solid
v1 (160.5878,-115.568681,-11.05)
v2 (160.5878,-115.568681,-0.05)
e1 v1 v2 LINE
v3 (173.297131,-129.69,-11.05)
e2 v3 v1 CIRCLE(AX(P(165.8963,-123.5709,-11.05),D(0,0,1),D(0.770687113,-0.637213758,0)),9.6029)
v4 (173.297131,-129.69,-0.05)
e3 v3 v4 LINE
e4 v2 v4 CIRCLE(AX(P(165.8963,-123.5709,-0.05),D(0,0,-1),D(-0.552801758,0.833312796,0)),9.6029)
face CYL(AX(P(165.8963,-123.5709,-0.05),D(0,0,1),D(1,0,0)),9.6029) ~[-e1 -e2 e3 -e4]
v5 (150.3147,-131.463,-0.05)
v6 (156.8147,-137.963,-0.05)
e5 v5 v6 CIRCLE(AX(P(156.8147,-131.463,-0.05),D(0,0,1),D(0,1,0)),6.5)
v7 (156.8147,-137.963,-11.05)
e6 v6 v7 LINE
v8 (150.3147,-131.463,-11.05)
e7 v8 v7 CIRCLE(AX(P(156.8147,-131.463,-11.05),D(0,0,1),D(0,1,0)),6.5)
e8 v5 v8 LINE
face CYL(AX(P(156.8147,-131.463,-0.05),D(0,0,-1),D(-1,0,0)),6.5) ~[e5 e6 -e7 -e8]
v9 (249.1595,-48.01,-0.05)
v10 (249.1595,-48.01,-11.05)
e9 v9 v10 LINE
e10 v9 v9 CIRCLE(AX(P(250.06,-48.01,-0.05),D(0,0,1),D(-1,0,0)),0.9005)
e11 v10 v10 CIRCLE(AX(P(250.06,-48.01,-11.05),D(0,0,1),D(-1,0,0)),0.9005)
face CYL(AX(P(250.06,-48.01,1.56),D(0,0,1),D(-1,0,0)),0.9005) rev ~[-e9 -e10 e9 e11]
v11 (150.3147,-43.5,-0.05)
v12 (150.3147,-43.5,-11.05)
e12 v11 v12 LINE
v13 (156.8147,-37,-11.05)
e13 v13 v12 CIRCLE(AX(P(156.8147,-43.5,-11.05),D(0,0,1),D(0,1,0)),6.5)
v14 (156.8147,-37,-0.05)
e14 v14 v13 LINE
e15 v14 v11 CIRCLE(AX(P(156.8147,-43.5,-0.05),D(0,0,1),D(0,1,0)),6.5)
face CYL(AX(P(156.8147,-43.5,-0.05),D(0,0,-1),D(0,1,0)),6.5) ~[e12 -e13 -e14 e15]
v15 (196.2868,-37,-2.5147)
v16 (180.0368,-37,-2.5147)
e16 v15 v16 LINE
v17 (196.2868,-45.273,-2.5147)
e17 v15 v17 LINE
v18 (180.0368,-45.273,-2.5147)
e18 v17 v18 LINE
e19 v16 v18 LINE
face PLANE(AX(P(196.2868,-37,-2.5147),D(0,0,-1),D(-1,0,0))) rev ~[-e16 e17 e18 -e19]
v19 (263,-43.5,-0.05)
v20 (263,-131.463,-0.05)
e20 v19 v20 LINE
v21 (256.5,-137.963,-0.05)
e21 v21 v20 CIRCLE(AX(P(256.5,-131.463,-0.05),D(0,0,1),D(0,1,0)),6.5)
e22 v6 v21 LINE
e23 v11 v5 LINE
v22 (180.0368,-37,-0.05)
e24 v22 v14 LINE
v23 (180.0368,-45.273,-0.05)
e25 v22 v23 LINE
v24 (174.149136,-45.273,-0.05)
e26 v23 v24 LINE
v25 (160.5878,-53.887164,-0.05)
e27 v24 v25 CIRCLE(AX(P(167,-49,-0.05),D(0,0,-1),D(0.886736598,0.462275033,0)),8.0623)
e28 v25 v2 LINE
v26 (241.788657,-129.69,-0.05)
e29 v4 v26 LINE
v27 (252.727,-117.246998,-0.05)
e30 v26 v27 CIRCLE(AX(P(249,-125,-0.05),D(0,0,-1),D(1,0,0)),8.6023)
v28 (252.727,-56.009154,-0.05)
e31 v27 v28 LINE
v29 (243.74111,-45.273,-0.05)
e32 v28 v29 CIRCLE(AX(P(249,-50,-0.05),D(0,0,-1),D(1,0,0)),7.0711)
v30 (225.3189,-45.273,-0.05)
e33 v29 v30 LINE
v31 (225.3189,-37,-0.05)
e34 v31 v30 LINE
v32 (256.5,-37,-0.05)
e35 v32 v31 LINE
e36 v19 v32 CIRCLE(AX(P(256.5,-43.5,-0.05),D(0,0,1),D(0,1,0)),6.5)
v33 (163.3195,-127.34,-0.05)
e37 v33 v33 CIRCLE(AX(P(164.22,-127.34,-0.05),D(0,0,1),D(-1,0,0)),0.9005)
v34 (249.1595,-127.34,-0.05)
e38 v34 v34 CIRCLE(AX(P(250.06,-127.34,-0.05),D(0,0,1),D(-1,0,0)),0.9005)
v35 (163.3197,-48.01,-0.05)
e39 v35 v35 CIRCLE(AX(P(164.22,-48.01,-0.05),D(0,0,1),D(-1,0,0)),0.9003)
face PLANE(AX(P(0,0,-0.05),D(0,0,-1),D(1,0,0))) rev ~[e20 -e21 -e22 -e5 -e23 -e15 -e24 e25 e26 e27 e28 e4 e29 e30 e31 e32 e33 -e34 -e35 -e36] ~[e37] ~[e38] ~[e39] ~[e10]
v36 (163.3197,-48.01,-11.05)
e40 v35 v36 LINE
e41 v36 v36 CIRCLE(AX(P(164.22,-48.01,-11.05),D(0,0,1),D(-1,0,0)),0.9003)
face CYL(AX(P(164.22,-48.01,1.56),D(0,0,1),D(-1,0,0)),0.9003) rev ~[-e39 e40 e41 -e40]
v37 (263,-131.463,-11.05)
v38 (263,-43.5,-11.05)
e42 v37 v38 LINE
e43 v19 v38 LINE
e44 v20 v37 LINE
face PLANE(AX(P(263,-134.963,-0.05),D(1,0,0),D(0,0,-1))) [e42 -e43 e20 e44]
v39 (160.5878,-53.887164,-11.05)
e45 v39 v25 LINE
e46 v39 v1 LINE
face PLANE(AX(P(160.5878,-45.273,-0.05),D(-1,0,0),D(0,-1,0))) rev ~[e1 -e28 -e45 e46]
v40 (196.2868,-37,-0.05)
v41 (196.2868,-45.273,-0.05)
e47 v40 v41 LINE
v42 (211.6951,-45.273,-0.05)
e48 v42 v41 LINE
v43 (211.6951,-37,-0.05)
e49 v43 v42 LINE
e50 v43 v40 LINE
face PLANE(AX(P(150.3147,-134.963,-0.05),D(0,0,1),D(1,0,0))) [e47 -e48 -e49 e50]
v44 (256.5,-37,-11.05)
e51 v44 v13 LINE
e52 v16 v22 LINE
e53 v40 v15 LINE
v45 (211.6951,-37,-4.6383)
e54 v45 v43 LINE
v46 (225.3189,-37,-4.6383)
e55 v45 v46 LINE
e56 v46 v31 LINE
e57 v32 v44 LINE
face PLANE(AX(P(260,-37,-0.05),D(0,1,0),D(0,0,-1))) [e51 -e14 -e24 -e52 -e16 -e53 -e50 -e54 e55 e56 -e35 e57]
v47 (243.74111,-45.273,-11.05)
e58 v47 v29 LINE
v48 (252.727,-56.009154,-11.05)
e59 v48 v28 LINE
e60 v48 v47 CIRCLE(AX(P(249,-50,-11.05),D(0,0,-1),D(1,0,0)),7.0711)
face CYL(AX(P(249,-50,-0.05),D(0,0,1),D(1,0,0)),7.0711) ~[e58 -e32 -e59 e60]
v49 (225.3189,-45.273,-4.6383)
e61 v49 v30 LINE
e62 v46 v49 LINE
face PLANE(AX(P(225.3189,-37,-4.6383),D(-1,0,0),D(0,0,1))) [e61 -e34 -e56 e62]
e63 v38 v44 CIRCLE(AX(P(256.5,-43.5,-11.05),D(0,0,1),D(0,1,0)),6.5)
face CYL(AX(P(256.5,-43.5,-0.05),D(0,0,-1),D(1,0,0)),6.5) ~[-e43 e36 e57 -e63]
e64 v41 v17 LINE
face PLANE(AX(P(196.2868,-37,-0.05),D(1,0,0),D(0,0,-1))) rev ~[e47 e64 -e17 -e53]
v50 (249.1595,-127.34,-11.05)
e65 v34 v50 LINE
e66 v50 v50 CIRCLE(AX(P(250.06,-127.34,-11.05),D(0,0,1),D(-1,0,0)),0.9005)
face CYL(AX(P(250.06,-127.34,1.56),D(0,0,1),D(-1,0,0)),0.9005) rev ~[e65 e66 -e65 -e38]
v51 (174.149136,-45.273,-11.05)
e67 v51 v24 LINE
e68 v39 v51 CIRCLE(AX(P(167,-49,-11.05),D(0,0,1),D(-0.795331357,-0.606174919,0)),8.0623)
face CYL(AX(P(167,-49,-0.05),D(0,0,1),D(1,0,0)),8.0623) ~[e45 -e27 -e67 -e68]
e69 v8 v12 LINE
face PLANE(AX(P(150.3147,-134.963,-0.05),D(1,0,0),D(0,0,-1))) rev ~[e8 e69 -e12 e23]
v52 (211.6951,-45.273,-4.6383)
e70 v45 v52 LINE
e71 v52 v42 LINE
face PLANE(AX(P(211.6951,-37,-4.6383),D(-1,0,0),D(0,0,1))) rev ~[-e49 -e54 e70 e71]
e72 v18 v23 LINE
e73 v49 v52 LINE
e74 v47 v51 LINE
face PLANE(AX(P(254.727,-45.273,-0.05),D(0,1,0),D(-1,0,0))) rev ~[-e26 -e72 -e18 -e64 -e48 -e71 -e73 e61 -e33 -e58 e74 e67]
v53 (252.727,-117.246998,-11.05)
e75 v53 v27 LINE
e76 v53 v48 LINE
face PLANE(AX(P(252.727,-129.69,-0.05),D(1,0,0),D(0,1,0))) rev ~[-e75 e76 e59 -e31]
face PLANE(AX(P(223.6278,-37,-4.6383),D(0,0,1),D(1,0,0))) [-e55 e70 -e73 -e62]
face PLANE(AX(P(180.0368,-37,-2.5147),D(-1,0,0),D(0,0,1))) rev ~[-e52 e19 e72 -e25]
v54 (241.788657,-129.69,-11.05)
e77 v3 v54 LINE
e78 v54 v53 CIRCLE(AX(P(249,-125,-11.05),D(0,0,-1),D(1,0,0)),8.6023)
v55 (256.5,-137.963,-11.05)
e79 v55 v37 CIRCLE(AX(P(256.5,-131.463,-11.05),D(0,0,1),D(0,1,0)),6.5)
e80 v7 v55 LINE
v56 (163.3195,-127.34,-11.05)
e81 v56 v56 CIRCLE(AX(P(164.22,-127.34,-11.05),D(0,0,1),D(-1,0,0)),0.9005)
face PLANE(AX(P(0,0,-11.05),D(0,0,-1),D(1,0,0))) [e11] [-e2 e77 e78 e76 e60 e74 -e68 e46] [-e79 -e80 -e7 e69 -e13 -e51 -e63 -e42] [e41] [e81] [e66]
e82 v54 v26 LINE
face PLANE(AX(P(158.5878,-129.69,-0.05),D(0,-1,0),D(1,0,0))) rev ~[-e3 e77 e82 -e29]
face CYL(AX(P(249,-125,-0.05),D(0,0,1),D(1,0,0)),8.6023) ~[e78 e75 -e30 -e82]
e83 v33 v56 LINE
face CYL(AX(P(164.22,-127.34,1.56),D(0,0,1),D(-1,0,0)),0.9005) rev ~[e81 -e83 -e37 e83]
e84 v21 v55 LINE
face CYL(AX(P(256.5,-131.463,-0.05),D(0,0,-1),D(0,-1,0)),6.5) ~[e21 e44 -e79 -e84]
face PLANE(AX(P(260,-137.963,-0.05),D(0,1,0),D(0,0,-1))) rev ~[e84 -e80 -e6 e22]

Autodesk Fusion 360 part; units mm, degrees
sketch "Sketch2" plane through (0, 0, -0.05) normal (0, 0, -1) x (1, 0, 0)
  line L0 (260, 40) -> (153.3147, 40)
  line L1 (153.3147, 40) -> (153.3147, 134.963)
  line L2 (153.3147, 134.963) -> (260, 134.963)
  line L3 (260, 134.963) -> (260, 40)
  line L4 (254.727, 129.69) -> (254.727, 45.273)
  line L5 (254.727, 45.273) -> (158.5878, 45.273)
  line L6 (158.5878, 45.273) -> (158.5878, 129.69)
  line L7 (158.5878, 129.69) -> (254.727, 129.69)
  dimension "d1" = 5.273
extrude "Extrude1" add sketch "Sketch2" along normal blind 11
extrude "Extrude2" add 1 faces at (153.3147, -71.6543, -3.7167) along direction (-1, 0, 0) blind 3
extrude "Extrude3" add 1 faces at (223.4382, -40, -3.7167) along direction (0, 1, 0) blind 3
extrude "Extrude4" add 1 faces at (260, -102.3087, -3.7167) along direction (1, 0, 0) blind 3
extrude "Extrude5" add 1 faces at (225.4382, -134.963, -7.3833) along direction (0, -1, 0) blind 3
sketch "Sketch3" plane through (0, -37, 0) normal (0, 1, 0) x (-1, 0, 0)
  line L0 (-150.3147, -0.05) -> (-263, -0.05)
  line L1 (-263, -0.05) -> (-263, -11.05)
  line L2 (-263, -11.05) -> (-150.3147, -11.05)
  line L3 (-150.3147, -11.05) -> (-150.3147, -0.05)
  line L4 (-180.0368, -0.05) -> (-196.2868, -0.05)
  line L5 (-196.2868, -0.05) -> (-196.2868, -2.5147)
  line L6 (-196.2868, -2.5147) -> (-180.0368, -2.5147)
  line L7 (-180.0368, -2.5147) -> (-180.0368, -0.05)
extrude "Extrude6" cut sketch "Sketch3" against normal blind 23 contours L0 L4 L5 L6 L7
sketch "Sketch4" plane through (0, -37, 0) normal (0, 1, 0) x (-1, 0, 0)
  line L0 (-196.2868, -2.5147) -> (-196.2868, -0.05)
  line L1 (-196.2868, -0.05) -> (-263, -0.05)
  line L2 (-263, -0.05) -> (-263, -11.05)
  line L3 (-263, -11.05) -> (-150.3147, -11.05)
  line L4 (-150.3147, -11.05) -> (-150.3147, -0.05)
  line L5 (-150.3147, -0.05) -> (-180.0368, -0.05)
  line L6 (-180.0368, -0.05) -> (-180.0368, -2.5147)
  line L7 (-180.0368, -2.5147) -> (-196.2868, -2.5147)
  line L8 (-223.6278, -0.05) -> (-213.3861, -0.05)
  line L9 (-213.3861, -0.05) -> (-213.3861, -4.6383)
  line L10 (-213.3861, -4.6383) -> (-223.6278, -4.6383)
  line L11 (-223.6278, -4.6383) -> (-223.6278, -0.05)
extrude "Extrude7" cut sketch "Sketch4" against normal blind 15.5 contours L1 L8 L9 L10 L11
extrude "Extrude8" add 1 faces at (158.5878, -73.412, -3.7167) along direction (1, 0, 0) blind 2
extrude "Extrude9" add 1 faces at (254.727, -101.551, -3.7167) along direction (-1, 0, 0) blind 2
sketch "Sketch5" plane through (0, 0, -0.05) normal (0, 0, -1) x (1, 0, 0)
  circle A0 centre (167, 49) radius 8.0623
extrude "Extrude10" add sketch "Sketch5" along normal blind 11
sketch "Sketch6" plane through (0, 0, -0.05) normal (0, 0, -1) x (1, 0, 0)
  circle A0 centre (166, 126) radius 7.8102
  circle A1 centre (247, 125) radius 9.2195
  circle A2 centre (249, 50) radius 7.0711
extrude "Extrude11" add sketch "Sketch6" along normal blind 11 contours A2
sketch "Sketch7" plane through (0, 0, -0.05) normal (0, 0, -1) x (1, 0, 0)
  circle A0 centre (249, 125) radius 8.6023
extrude "Extrude12" add sketch "Sketch7" along normal blind 11
sketch "Sketch8" plane through (0, 0, -0.05) normal (0, 0, -1) x (1, 0, 0)
  circle A0 centre (165.8963, 123.5709) radius 9.6029
extrude "Extrude13" add sketch "Sketch8" along normal blind 11
fillet "Fillet1" radius 6.5 1 edges at (263, -137.963, -5.55)
fillet "Fillet2" radius 6.5 1 edges at (263, -37, -5.55)
fillet "Fillet3" radius 6.5 1 edges at (150.3147, -37, -5.55)
fillet "Fillet4" radius 6.5 1 edges at (150.3147, -137.963, -5.55)
sketch "Sketch9" plane through (0, 0, 0) normal (0, 0, 1) x (-1, 0, 0)
  circle A0 centre (-164.22, 127.34) radius 2.2
  circle A1 centre (-165.3867, 128.5067) radius 0.175
  circle A2 centre (-164.22, 128.99) radius 0.175
  circle A3 centre (-165.87, 127.34) radius 0.175
  circle A4 centre (-164.22, 127.34) radius 1.075
  circle A5 centre (-163.0533, 128.5067) radius 0.175
  circle A6 centre (-162.57, 127.34) radius 0.175
  circle A7 centre (-165.3867, 126.1733) radius 0.175
  circle A8 centre (-164.22, 125.69) radius 0.175
  circle A9 centre (-163.0533, 126.1733) radius 0.175
sketch "Sketch10" plane through (0, 0, 1.56) normal (0, 0, 1) x (-1, 0, 0)
  arc A0 (-164.0236, 44.0124) -> (-160.2224, 47.8136) centre (-164.22, 48.01) ccw
  line L0 (-160.2224, 47.8136) -> (-160.22, 48.01)
  line L1 (-160.22, 48.01) -> (-160.22, 127.34)
  line L2 (-160.22, 127.34) -> (-160.2224, 127.5364)
  arc A1 (-160.2224, 127.5364) -> (-164.0236, 131.3376) centre (-164.22, 127.34) ccw
  line L3 (-164.0236, 131.3376) -> (-164.22, 131.34)
  line L4 (-164.22, 131.34) -> (-250.06, 131.34)
  line L5 (-250.06, 131.34) -> (-250.2564, 131.3376)
  arc A2 (-250.2564, 131.3376) -> (-254.0576, 127.5364) centre (-250.06, 127.34) ccw
  line L6 (-254.0576, 127.5364) -> (-254.06, 127.34)
  line L7 (-254.06, 127.34) -> (-254.06, 48.01)
  line L8 (-254.06, 48.01) -> (-254.0576, 47.8136)
  arc A3 (-254.0576, 47.8136) -> (-250.2564, 44.0124) centre (-250.06, 48.01) ccw
  line L9 (-250.2564, 44.0124) -> (-250.06, 44.01)
  line L10 (-250.06, 44.01) -> (-164.22, 44.01)
  line L11 (-164.22, 44.01) -> (-164.0236, 44.0124)
  circle A4 centre (-164.22, 127.34) radius 2.2
  circle A5 centre (-250.06, 127.34) radius 2.2
  circle A6 centre (-188.38, 126.32) radius 1.1
  circle A7 centre (-198.58, 126.32) radius 1.1
  arc A8 (-214.77, 126.55) -> (-214.77, 124.65) centre (-214.77, 125.6) ccw
  line L12 (-214.77, 126.55) -> (-213.47, 126.55)
  arc A9 (-213.47, 124.65) -> (-213.47, 126.55) centre (-213.47, 125.6) ccw
  line L13 (-213.47, 124.65) -> (-214.77, 124.65)
  arc A10 (-227.27, 126.55) -> (-227.27, 124.65) centre (-227.27, 125.6) ccw
  line L14 (-227.27, 126.55) -> (-225.97, 126.55)
  arc A11 (-225.97, 124.65) -> (-225.97, 126.55) centre (-225.97, 125.6) ccw
  line L15 (-225.97, 124.65) -> (-227.27, 124.65)
  circle A12 centre (-188.38, 123.57) radius 0.9
  circle A13 centre (-198.58, 123.57) radius 0.9
  arc A14 (-214.77, 121.55) -> (-214.77, 119.65) centre (-214.77, 120.6) ccw
  line L16 (-214.77, 121.55) -> (-213.47, 121.55)
  arc A15 (-213.47, 119.65) -> (-213.47, 121.55) centre (-213.47, 120.6) ccw
  line L17 (-213.47, 119.65) -> (-214.77, 119.65)
  arc A16 (-227.27, 121.55) -> (-227.27, 119.65) centre (-227.27, 120.6) ccw
  line L18 (-227.27, 121.55) -> (-225.97, 121.55)
  arc A17 (-225.97, 119.65) -> (-225.97, 121.55) centre (-225.97, 120.6) ccw
  line L19 (-225.97, 119.65) -> (-227.27, 119.65)
  circle A18 centre (-188.38, 119.92) radius 1.1
  circle A19 centre (-198.58, 119.92) radius 1.1
  circle A20 centre (-248.26, 102) radius 0.85
  circle A21 centre (-248.26, 99.46) radius 0.85
  circle A22 centre (-248.26, 96.92) radius 0.85
  circle A23 centre (-248.26, 94.38) radius 0.85
  circle A24 centre (-248.26, 91.84) radius 0.85
  circle A25 centre (-248.26, 89.3) radius 0.85
  circle A26 centre (-248.26, 86.76) radius 0.85
  circle A27 centre (-248.26, 84.22) radius 0.85
  circle A28 centre (-248.26, 81.68) radius 0.85
  circle A29 centre (-248.26, 79.14) radius 0.85
  circle A30 centre (-248.26, 76.6) radius 0.85
  circle A31 centre (-248.26, 74.06) radius 0.85
  circle A32 centre (-248.26, 71.52) radius 0.85
  line L20 (-249.11, 68.13) -> (-249.11, 69.83)
  line L21 (-249.11, 69.83) -> (-247.41, 69.83)
  line L22 (-247.41, 69.83) -> (-247.41, 68.13)
  line L23 (-247.41, 68.13) -> (-249.11, 68.13)
  circle A33 centre (-202.95, 54.5201) radius 0.6604
  circle A34 centre (-205.49, 54.5201) radius 0.6604
  circle A35 centre (-208.03, 54.5201) radius 0.6604
  arc A36 (-215.57, 49.8) -> (-216.67, 49.8) centre (-216.12, 49.8) ccw
  line L24 (-215.57, 49.8) -> (-215.57, 49.4)
  arc A37 (-216.67, 49.4) -> (-215.57, 49.4) centre (-216.12, 49.4) ccw
  line L25 (-216.67, 49.4) -> (-216.67, 49.8)
  arc A38 (-220.41, 49.8) -> (-221.51, 49.8) centre (-220.96, 49.8) ccw
  line L26 (-220.41, 49.8) -> (-220.41, 49.4)
  arc A39 (-221.51, 49.4) -> (-220.41, 49.4) centre (-220.96, 49.4) ccw
  line L27 (-221.51, 49.4) -> (-221.51, 49.8)
  circle A40 centre (-164.22, 48.01) radius 2.2
  circle A41 centre (-250.06, 48.01) radius 2.2
  arc A42 (-215.1383, 46.8412) -> (-216.485, 46.775) centre (-215.81, 46.775) ccw
  line L28 (-215.1383, 46.8412) -> (-215.135, 46.425)
  arc A43 (-216.4817, 46.3588) -> (-215.135, 46.425) centre (-215.81, 46.425) ccw
  line L29 (-216.4817, 46.3588) -> (-216.485, 46.775)
  arc A44 (-220.5983, 46.8412) -> (-221.945, 46.775) centre (-221.27, 46.775) ccw
  line L30 (-220.5983, 46.8412) -> (-220.595, 46.425)
  arc A45 (-221.9417, 46.3588) -> (-220.595, 46.425) centre (-221.27, 46.425) ccw
  line L31 (-221.9417, 46.3588) -> (-221.945, 46.775)
  circle A46 centre (-164.22, 48.01) radius 0.9003
extrude "Extrude14" cut sketch "Sketch10" against normal blind 13 contours A46
sketch "Sketch11" plane through (0, 0, 1.56) normal (0, 0, 1) x (-1, 0, 0)
  arc A0 (-164.0236, 44.0124) -> (-160.2224, 47.8136) centre (-164.22, 48.01) ccw
  line L0 (-160.2224, 47.8136) -> (-160.22, 48.01)
  line L1 (-160.22, 48.01) -> (-160.22, 127.34)
  line L2 (-160.22, 127.34) -> (-160.2224, 127.5364)
  arc A1 (-160.2224, 127.5364) -> (-164.0236, 131.3376) centre (-164.22, 127.34) ccw
  line L3 (-164.0236, 131.3376) -> (-164.22, 131.34)
  line L4 (-164.22, 131.34) -> (-250.06, 131.34)
  line L5 (-250.06, 131.34) -> (-250.2564, 131.3376)
  arc A2 (-250.2564, 131.3376) -> (-254.0576, 127.5364) centre (-250.06, 127.34) ccw
  line L6 (-254.0576, 127.5364) -> (-254.06, 127.34)
  line L7 (-254.06, 127.34) -> (-254.06, 48.01)
  line L8 (-254.06, 48.01) -> (-254.0576, 47.8136)
  arc A3 (-254.0576, 47.8136) -> (-250.2564, 44.0124) centre (-250.06, 48.01) ccw
  line L9 (-250.2564, 44.0124) -> (-250.06, 44.01)
  line L10 (-250.06, 44.01) -> (-164.22, 44.01)
  line L11 (-164.22, 44.01) -> (-164.0236, 44.0124)
  circle A4 centre (-164.22, 127.34) radius 2.2
  circle A5 centre (-250.06, 127.34) radius 2.2
  circle A6 centre (-188.38, 126.32) radius 1.1
  circle A7 centre (-198.58, 126.32) radius 1.1
  arc A8 (-214.77, 126.55) -> (-214.77, 124.65) centre (-214.77, 125.6) ccw
  line L12 (-214.77, 126.55) -> (-213.47, 126.55)
  arc A9 (-213.47, 124.65) -> (-213.47, 126.55) centre (-213.47, 125.6) ccw
  line L13 (-213.47, 124.65) -> (-214.77, 124.65)
  arc A10 (-227.27, 126.55) -> (-227.27, 124.65) centre (-227.27, 125.6) ccw
  line L14 (-227.27, 126.55) -> (-225.97, 126.55)
  arc A11 (-225.97, 124.65) -> (-225.97, 126.55) centre (-225.97, 125.6) ccw
  line L15 (-225.97, 124.65) -> (-227.27, 124.65)
  circle A12 centre (-188.38, 123.57) radius 0.9
  circle A13 centre (-198.58, 123.57) radius 0.9
  arc A14 (-214.77, 121.55) -> (-214.77, 119.65) centre (-214.77, 120.6) ccw
  line L16 (-214.77, 121.55) -> (-213.47, 121.55)
  arc A15 (-213.47, 119.65) -> (-213.47, 121.55) centre (-213.47, 120.6) ccw
  line L17 (-213.47, 119.65) -> (-214.77, 119.65)
  arc A16 (-227.27, 121.55) -> (-227.27, 119.65) centre (-227.27, 120.6) ccw
  line L18 (-227.27, 121.55) -> (-225.97, 121.55)
  arc A17 (-225.97, 119.65) -> (-225.97, 121.55) centre (-225.97, 120.6) ccw
  line L19 (-225.97, 119.65) -> (-227.27, 119.65)
  circle A18 centre (-188.38, 119.92) radius 1.1
  circle A19 centre (-198.58, 119.92) radius 1.1
  circle A20 centre (-248.26, 102) radius 0.85
  circle A21 centre (-248.26, 99.46) radius 0.85
  circle A22 centre (-248.26, 96.92) radius 0.85
  circle A23 centre (-248.26, 94.38) radius 0.85
  circle A24 centre (-248.26, 91.84) radius 0.85
  circle A25 centre (-248.26, 89.3) radius 0.85
  circle A26 centre (-248.26, 86.76) radius 0.85
  circle A27 centre (-248.26, 84.22) radius 0.85
  circle A28 centre (-248.26, 81.68) radius 0.85
  circle A29 centre (-248.26, 79.14) radius 0.85
  circle A30 centre (-248.26, 76.6) radius 0.85
  circle A31 centre (-248.26, 74.06) radius 0.85
  circle A32 centre (-248.26, 71.52) radius 0.85
  line L20 (-249.11, 68.13) -> (-249.11, 69.83)
  line L21 (-249.11, 69.83) -> (-247.41, 69.83)
  line L22 (-247.41, 69.83) -> (-247.41, 68.13)
  line L23 (-247.41, 68.13) -> (-249.11, 68.13)
  circle A33 centre (-202.95, 54.5201) radius 0.6604
  circle A34 centre (-205.49, 54.5201) radius 0.6604
  circle A35 centre (-208.03, 54.5201) radius 0.6604
  arc A36 (-215.57, 49.8) -> (-216.67, 49.8) centre (-216.12, 49.8) ccw
  line L24 (-215.57, 49.8) -> (-215.57, 49.4)
  arc A37 (-216.67, 49.4) -> (-215.57, 49.4) centre (-216.12, 49.4) ccw
  line L25 (-216.67, 49.4) -> (-216.67, 49.8)
  arc A38 (-220.41, 49.8) -> (-221.51, 49.8) centre (-220.96, 49.8) ccw
  line L26 (-220.41, 49.8) -> (-220.41, 49.4)
  arc A39 (-221.51, 49.4) -> (-220.41, 49.4) centre (-220.96, 49.4) ccw
  line L27 (-221.51, 49.4) -> (-221.51, 49.8)
  circle A40 centre (-164.22, 48.01) radius 2.2
  circle A41 centre (-250.06, 48.01) radius 2.2
  arc A42 (-215.1383, 46.8412) -> (-216.485, 46.775) centre (-215.81, 46.775) ccw
  line L28 (-215.1383, 46.8412) -> (-215.135, 46.425)
  arc A43 (-216.4817, 46.3588) -> (-215.135, 46.425) centre (-215.81, 46.425) ccw
  line L29 (-216.4817, 46.3588) -> (-216.485, 46.775)
  arc A44 (-220.5983, 46.8412) -> (-221.945, 46.775) centre (-221.27, 46.775) ccw
  line L30 (-220.5983, 46.8412) -> (-220.595, 46.425)
  arc A45 (-221.9417, 46.3588) -> (-220.595, 46.425) centre (-221.27, 46.425) ccw
  line L31 (-221.9417, 46.3588) -> (-221.945, 46.775)
  circle A46 centre (-250.06, 48.01) radius 0.9005
  dimension "d38" = 1.801
extrude "Extrude15" cut sketch "Sketch11" against normal blind 14 contours A46
sketch "Sketch12" plane through (0, 0, 1.56) normal (0, 0, 1) x (-1, 0, 0)
  arc A0 (-164.0236, 44.0124) -> (-160.2224, 47.8136) centre (-164.22, 48.01) ccw
  line L0 (-160.2224, 47.8136) -> (-160.22, 48.01)
  line L1 (-160.22, 48.01) -> (-160.22, 127.34)
  line L2 (-160.22, 127.34) -> (-160.2224, 127.5364)
  arc A1 (-160.2224, 127.5364) -> (-164.0236, 131.3376) centre (-164.22, 127.34) ccw
  line L3 (-164.0236, 131.3376) -> (-164.22, 131.34)
  line L4 (-164.22, 131.34) -> (-250.06, 131.34)
  line L5 (-250.06, 131.34) -> (-250.2564, 131.3376)
  arc A2 (-250.2564, 131.3376) -> (-254.0576, 127.5364) centre (-250.06, 127.34) ccw
  line L6 (-254.0576, 127.5364) -> (-254.06, 127.34)
  line L7 (-254.06, 127.34) -> (-254.06, 48.01)
  line L8 (-254.06, 48.01) -> (-254.0576, 47.8136)
  arc A3 (-254.0576, 47.8136) -> (-250.2564, 44.0124) centre (-250.06, 48.01) ccw
  line L9 (-250.2564, 44.0124) -> (-250.06, 44.01)
  line L10 (-250.06, 44.01) -> (-164.22, 44.01)
  line L11 (-164.22, 44.01) -> (-164.0236, 44.0124)
  circle A4 centre (-164.22, 127.34) radius 2.2
  circle A5 centre (-250.06, 127.34) radius 2.2
  circle A6 centre (-188.38, 126.32) radius 1.1
  circle A7 centre (-198.58, 126.32) radius 1.1
  arc A8 (-214.77, 126.55) -> (-214.77, 124.65) centre (-214.77, 125.6) ccw
  line L12 (-214.77, 126.55) -> (-213.47, 126.55)
  arc A9 (-213.47, 124.65) -> (-213.47, 126.55) centre (-213.47, 125.6) ccw
  line L13 (-213.47, 124.65) -> (-214.77, 124.65)
  arc A10 (-227.27, 126.55) -> (-227.27, 124.65) centre (-227.27, 125.6) ccw
  line L14 (-227.27, 126.55) -> (-225.97, 126.55)
  arc A11 (-225.97, 124.65) -> (-225.97, 126.55) centre (-225.97, 125.6) ccw
  line L15 (-225.97, 124.65) -> (-227.27, 124.65)
  circle A12 centre (-188.38, 123.57) radius 0.9
  circle A13 centre (-198.58, 123.57) radius 0.9
  arc A14 (-214.77, 121.55) -> (-214.77, 119.65) centre (-214.77, 120.6) ccw
  line L16 (-214.77, 121.55) -> (-213.47, 121.55)
  arc A15 (-213.47, 119.65) -> (-213.47, 121.55) centre (-213.47, 120.6) ccw
  line L17 (-213.47, 119.65) -> (-214.77, 119.65)
  arc A16 (-227.27, 121.55) -> (-227.27, 119.65) centre (-227.27, 120.6) ccw
  line L18 (-227.27, 121.55) -> (-225.97, 121.55)
  arc A17 (-225.97, 119.65) -> (-225.97, 121.55) centre (-225.97, 120.6) ccw
  line L19 (-225.97, 119.65) -> (-227.27, 119.65)
  circle A18 centre (-188.38, 119.92) radius 1.1
  circle A19 centre (-198.58, 119.92) radius 1.1
  circle A20 centre (-248.26, 102) radius 0.85
  circle A21 centre (-248.26, 99.46) radius 0.85
  circle A22 centre (-248.26, 96.92) radius 0.85
  circle A23 centre (-248.26, 94.38) radius 0.85
  circle A24 centre (-248.26, 91.84) radius 0.85
  circle A25 centre (-248.26, 89.3) radius 0.85
  circle A26 centre (-248.26, 86.76) radius 0.85
  circle A27 centre (-248.26, 84.22) radius 0.85
  circle A28 centre (-248.26, 81.68) radius 0.85
  circle A29 centre (-248.26, 79.14) radius 0.85
  circle A30 centre (-248.26, 76.6) radius 0.85
  circle A31 centre (-248.26, 74.06) radius 0.85
  circle A32 centre (-248.26, 71.52) radius 0.85
  line L20 (-249.11, 68.13) -> (-249.11, 69.83)
  line L21 (-249.11, 69.83) -> (-247.41, 69.83)
  line L22 (-247.41, 69.83) -> (-247.41, 68.13)
  line L23 (-247.41, 68.13) -> (-249.11, 68.13)
  circle A33 centre (-202.95, 54.5201) radius 0.6604
  circle A34 centre (-205.49, 54.5201) radius 0.6604
  circle A35 centre (-208.03, 54.5201) radius 0.6604
  arc A36 (-215.57, 49.8) -> (-216.67, 49.8) centre (-216.12, 49.8) ccw
  line L24 (-215.57, 49.8) -> (-215.57, 49.4)
  arc A37 (-216.67, 49.4) -> (-215.57, 49.4) centre (-216.12, 49.4) ccw
  line L25 (-216.67, 49.4) -> (-216.67, 49.8)
  arc A38 (-220.41, 49.8) -> (-221.51, 49.8) centre (-220.96, 49.8) ccw
  line L26 (-220.41, 49.8) -> (-220.41, 49.4)
  arc A39 (-221.51, 49.4) -> (-220.41, 49.4) centre (-220.96, 49.4) ccw
  line L27 (-221.51, 49.4) -> (-221.51, 49.8)
  circle A40 centre (-164.22, 48.01) radius 2.2
  circle A41 centre (-250.06, 48.01) radius 2.2
  arc A42 (-215.1383, 46.8412) -> (-216.485, 46.775) centre (-215.81, 46.775) ccw
  line L28 (-215.1383, 46.8412) -> (-215.135, 46.425)
  arc A43 (-216.4817, 46.3588) -> (-215.135, 46.425) centre (-215.81, 46.425) ccw
  line L29 (-216.4817, 46.3588) -> (-216.485, 46.775)
  arc A44 (-220.5983, 46.8412) -> (-221.945, 46.775) centre (-221.27, 46.775) ccw
  line L30 (-220.5983, 46.8412) -> (-220.595, 46.425)
  arc A45 (-221.9417, 46.3588) -> (-220.595, 46.425) centre (-221.27, 46.425) ccw
  line L31 (-221.9417, 46.3588) -> (-221.945, 46.775)
  circle A46 centre (-250.06, 127.34) radius 0.9005
  dimension "d41" = 1.801
extrude "Extrude16" cut sketch "Sketch12" against normal blind 13 contours A46
sketch "Sketch13" plane through (0, 0, 1.56) normal (0, 0, 1) x (-1, 0, 0)
  arc A0 (-164.0236, 44.0124) -> (-160.2224, 47.8136) centre (-164.22, 48.01) ccw
  line L0 (-160.2224, 47.8136) -> (-160.22, 48.01)
  line L1 (-160.22, 48.01) -> (-160.22, 127.34)
  line L2 (-160.22, 127.34) -> (-160.2224, 127.5364)
  arc A1 (-160.2224, 127.5364) -> (-164.0236, 131.3376) centre (-164.22, 127.34) ccw
  line L3 (-164.0236, 131.3376) -> (-164.22, 131.34)
  line L4 (-164.22, 131.34) -> (-250.06, 131.34)
  line L5 (-250.06, 131.34) -> (-250.2564, 131.3376)
  arc A2 (-250.2564, 131.3376) -> (-254.0576, 127.5364) centre (-250.06, 127.34) ccw
  line L6 (-254.0576, 127.5364) -> (-254.06, 127.34)
  line L7 (-254.06, 127.34) -> (-254.06, 48.01)
  line L8 (-254.06, 48.01) -> (-254.0576, 47.8136)
  arc A3 (-254.0576, 47.8136) -> (-250.2564, 44.0124) centre (-250.06, 48.01) ccw
  line L9 (-250.2564, 44.0124) -> (-250.06, 44.01)
  line L10 (-250.06, 44.01) -> (-164.22, 44.01)
  line L11 (-164.22, 44.01) -> (-164.0236, 44.0124)
  circle A4 centre (-164.22, 127.34) radius 2.2
  circle A5 centre (-250.06, 127.34) radius 2.2
  circle A6 centre (-188.38, 126.32) radius 1.1
  circle A7 centre (-198.58, 126.32) radius 1.1
  arc A8 (-214.77, 126.55) -> (-214.77, 124.65) centre (-214.77, 125.6) ccw
  line L12 (-214.77, 126.55) -> (-213.47, 126.55)
  arc A9 (-213.47, 124.65) -> (-213.47, 126.55) centre (-213.47, 125.6) ccw
  line L13 (-213.47, 124.65) -> (-214.77, 124.65)
  arc A10 (-227.27, 126.55) -> (-227.27, 124.65) centre (-227.27, 125.6) ccw
  line L14 (-227.27, 126.55) -> (-225.97, 126.55)
  arc A11 (-225.97, 124.65) -> (-225.97, 126.55) centre (-225.97, 125.6) ccw
  line L15 (-225.97, 124.65) -> (-227.27, 124.65)
  circle A12 centre (-188.38, 123.57) radius 0.9
  circle A13 centre (-198.58, 123.57) radius 0.9
  arc A14 (-214.77, 121.55) -> (-214.77, 119.65) centre (-214.77, 120.6) ccw
  line L16 (-214.77, 121.55) -> (-213.47, 121.55)
  arc A15 (-213.47, 119.65) -> (-213.47, 121.55) centre (-213.47, 120.6) ccw
  line L17 (-213.47, 119.65) -> (-214.77, 119.65)
  arc A16 (-227.27, 121.55) -> (-227.27, 119.65) centre (-227.27, 120.6) ccw
  line L18 (-227.27, 121.55) -> (-225.97, 121.55)
  arc A17 (-225.97, 119.65) -> (-225.97, 121.55) centre (-225.97, 120.6) ccw
  line L19 (-225.97, 119.65) -> (-227.27, 119.65)
  circle A18 centre (-188.38, 119.92) radius 1.1
  circle A19 centre (-198.58, 119.92) radius 1.1
  circle A20 centre (-248.26, 102) radius 0.85
  circle A21 centre (-248.26, 99.46) radius 0.85
  circle A22 centre (-248.26, 96.92) radius 0.85
  circle A23 centre (-248.26, 94.38) radius 0.85
  circle A24 centre (-248.26, 91.84) radius 0.85
  circle A25 centre (-248.26, 89.3) radius 0.85
  circle A26 centre (-248.26, 86.76) radius 0.85
  circle A27 centre (-248.26, 84.22) radius 0.85
  circle A28 centre (-248.26, 81.68) radius 0.85
  circle A29 centre (-248.26, 79.14) radius 0.85
  circle A30 centre (-248.26, 76.6) radius 0.85
  circle A31 centre (-248.26, 74.06) radius 0.85
  circle A32 centre (-248.26, 71.52) radius 0.85
  line L20 (-249.11, 68.13) -> (-249.11, 69.83)
  line L21 (-249.11, 69.83) -> (-247.41, 69.83)
  line L22 (-247.41, 69.83) -> (-247.41, 68.13)
  line L23 (-247.41, 68.13) -> (-249.11, 68.13)
  circle A33 centre (-202.95, 54.5201) radius 0.6604
  circle A34 centre (-205.49, 54.5201) radius 0.6604
  circle A35 centre (-208.03, 54.5201) radius 0.6604
  arc A36 (-215.57, 49.8) -> (-216.67, 49.8) centre (-216.12, 49.8) ccw
  line L24 (-215.57, 49.8) -> (-215.57, 49.4)
  arc A37 (-216.67, 49.4) -> (-215.57, 49.4) centre (-216.12, 49.4) ccw
  line L25 (-216.67, 49.4) -> (-216.67, 49.8)
  arc A38 (-220.41, 49.8) -> (-221.51, 49.8) centre (-220.96, 49.8) ccw
  line L26 (-220.41, 49.8) -> (-220.41, 49.4)
  arc A39 (-221.51, 49.4) -> (-220.41, 49.4) centre (-220.96, 49.4) ccw
  line L27 (-221.51, 49.4) -> (-221.51, 49.8)
  circle A40 centre (-164.22, 48.01) radius 2.2
  circle A41 centre (-250.06, 48.01) radius 2.2
  arc A42 (-215.1383, 46.8412) -> (-216.485, 46.775) centre (-215.81, 46.775) ccw
  line L28 (-215.1383, 46.8412) -> (-215.135, 46.425)
  arc A43 (-216.4817, 46.3588) -> (-215.135, 46.425) centre (-215.81, 46.425) ccw
  line L29 (-216.4817, 46.3588) -> (-216.485, 46.775)
  arc A44 (-220.5983, 46.8412) -> (-221.945, 46.775) centre (-221.27, 46.775) ccw
  line L30 (-220.5983, 46.8412) -> (-220.595, 46.425)
  arc A45 (-221.9417, 46.3588) -> (-220.595, 46.425) centre (-221.27, 46.425) ccw
  line L31 (-221.9417, 46.3588) -> (-221.945, 46.775)
  circle A46 centre (-164.22, 127.34) radius 0.9005
  dimension "d44" = 1.801
extrude "Extrude17" cut sketch "Sketch13" against normal blind 15 contours A46
sketch "Sketch14" plane through (0, -37, 0) normal (0, 1, 0) x (-1, 0, 0)
  line L0 (-156.8147, -11.05) -> (-156.8147, -0.05)
  line L1 (-156.8147, -0.05) -> (-180.0368, -0.05)
  line L2 (-180.0368, -0.05) -> (-180.0368, -2.5147)
  line L3 (-180.0368, -2.5147) -> (-196.2868, -2.5147)
  line L4 (-196.2868, -2.5147) -> (-196.2868, -0.05)
  line L5 (-196.2868, -0.05) -> (-213.3861, -0.05)
  line L6 (-213.3861, -0.05) -> (-213.3861, -4.6383)
  line L7 (-213.3861, -4.6383) -> (-223.6278, -4.6383)
  line L8 (-223.6278, -4.6383) -> (-223.6278, -0.05)
  line L9 (-223.6278, -0.05) -> (-256.5, -0.05)
  line L10 (-256.5, -0.05) -> (-256.5, -11.05)
  line L11 (-256.5, -11.05) -> (-156.8147, -11.05)
  line L12 (-223.6278, -4.6383) -> (-225.3189, -4.6383)
  line L13 (-225.3189, -4.6383) -> (-225.3189, -0.05)
  line L14 (-225.3189, -0.05) -> (-223.6278, -0.05)
  line L15 (-223.6278, -0.05) -> (-223.6278, -4.6383)
extrude "Extrude18" cut sketch "Sketch14" against normal blind 9.5 contours L8 L9 L12 L13 L14 L15
sketch "Sketch15" plane through (0, -37, 0) normal (0, 1, 0) x (-1, 0, 0)
  line L0 (-213.3861, -4.6383) -> (-225.3189, -4.6383)
  line L1 (-225.3189, -4.6383) -> (-225.3189, -0.05)
  line L2 (-225.3189, -0.05) -> (-256.5, -0.05)
  line L3 (-256.5, -0.05) -> (-256.5, -11.05)
  line L4 (-256.5, -11.05) -> (-156.8147, -11.05)
  line L5 (-156.8147, -11.05) -> (-156.8147, -0.05)
  line L6 (-156.8147, -0.05) -> (-180.0368, -0.05)
  line L7 (-180.0368, -0.05) -> (-180.0368, -2.5147)
  line L8 (-180.0368, -2.5147) -> (-196.2868, -2.5147)
  line L9 (-196.2868, -2.5147) -> (-196.2868, -0.05)
  line L10 (-196.2868, -0.05) -> (-213.3861, -0.05)
  line L11 (-213.3861, -0.05) -> (-213.3861, -4.6383)
  line L12 (-213.3861, -4.6383) -> (-211.6951, -4.6383)
  line L13 (-211.6951, -4.6383) -> (-211.6951, -0.05)
  line L14 (-211.6951, -0.05) -> (-213.3861, -0.05)
  line L15 (-213.3861, -0.05) -> (-213.3861, -4.6383)
extrude "Extrude19" cut sketch "Sketch15" against normal blind 9 contours L10 L11 L12 L13 L14 L15
